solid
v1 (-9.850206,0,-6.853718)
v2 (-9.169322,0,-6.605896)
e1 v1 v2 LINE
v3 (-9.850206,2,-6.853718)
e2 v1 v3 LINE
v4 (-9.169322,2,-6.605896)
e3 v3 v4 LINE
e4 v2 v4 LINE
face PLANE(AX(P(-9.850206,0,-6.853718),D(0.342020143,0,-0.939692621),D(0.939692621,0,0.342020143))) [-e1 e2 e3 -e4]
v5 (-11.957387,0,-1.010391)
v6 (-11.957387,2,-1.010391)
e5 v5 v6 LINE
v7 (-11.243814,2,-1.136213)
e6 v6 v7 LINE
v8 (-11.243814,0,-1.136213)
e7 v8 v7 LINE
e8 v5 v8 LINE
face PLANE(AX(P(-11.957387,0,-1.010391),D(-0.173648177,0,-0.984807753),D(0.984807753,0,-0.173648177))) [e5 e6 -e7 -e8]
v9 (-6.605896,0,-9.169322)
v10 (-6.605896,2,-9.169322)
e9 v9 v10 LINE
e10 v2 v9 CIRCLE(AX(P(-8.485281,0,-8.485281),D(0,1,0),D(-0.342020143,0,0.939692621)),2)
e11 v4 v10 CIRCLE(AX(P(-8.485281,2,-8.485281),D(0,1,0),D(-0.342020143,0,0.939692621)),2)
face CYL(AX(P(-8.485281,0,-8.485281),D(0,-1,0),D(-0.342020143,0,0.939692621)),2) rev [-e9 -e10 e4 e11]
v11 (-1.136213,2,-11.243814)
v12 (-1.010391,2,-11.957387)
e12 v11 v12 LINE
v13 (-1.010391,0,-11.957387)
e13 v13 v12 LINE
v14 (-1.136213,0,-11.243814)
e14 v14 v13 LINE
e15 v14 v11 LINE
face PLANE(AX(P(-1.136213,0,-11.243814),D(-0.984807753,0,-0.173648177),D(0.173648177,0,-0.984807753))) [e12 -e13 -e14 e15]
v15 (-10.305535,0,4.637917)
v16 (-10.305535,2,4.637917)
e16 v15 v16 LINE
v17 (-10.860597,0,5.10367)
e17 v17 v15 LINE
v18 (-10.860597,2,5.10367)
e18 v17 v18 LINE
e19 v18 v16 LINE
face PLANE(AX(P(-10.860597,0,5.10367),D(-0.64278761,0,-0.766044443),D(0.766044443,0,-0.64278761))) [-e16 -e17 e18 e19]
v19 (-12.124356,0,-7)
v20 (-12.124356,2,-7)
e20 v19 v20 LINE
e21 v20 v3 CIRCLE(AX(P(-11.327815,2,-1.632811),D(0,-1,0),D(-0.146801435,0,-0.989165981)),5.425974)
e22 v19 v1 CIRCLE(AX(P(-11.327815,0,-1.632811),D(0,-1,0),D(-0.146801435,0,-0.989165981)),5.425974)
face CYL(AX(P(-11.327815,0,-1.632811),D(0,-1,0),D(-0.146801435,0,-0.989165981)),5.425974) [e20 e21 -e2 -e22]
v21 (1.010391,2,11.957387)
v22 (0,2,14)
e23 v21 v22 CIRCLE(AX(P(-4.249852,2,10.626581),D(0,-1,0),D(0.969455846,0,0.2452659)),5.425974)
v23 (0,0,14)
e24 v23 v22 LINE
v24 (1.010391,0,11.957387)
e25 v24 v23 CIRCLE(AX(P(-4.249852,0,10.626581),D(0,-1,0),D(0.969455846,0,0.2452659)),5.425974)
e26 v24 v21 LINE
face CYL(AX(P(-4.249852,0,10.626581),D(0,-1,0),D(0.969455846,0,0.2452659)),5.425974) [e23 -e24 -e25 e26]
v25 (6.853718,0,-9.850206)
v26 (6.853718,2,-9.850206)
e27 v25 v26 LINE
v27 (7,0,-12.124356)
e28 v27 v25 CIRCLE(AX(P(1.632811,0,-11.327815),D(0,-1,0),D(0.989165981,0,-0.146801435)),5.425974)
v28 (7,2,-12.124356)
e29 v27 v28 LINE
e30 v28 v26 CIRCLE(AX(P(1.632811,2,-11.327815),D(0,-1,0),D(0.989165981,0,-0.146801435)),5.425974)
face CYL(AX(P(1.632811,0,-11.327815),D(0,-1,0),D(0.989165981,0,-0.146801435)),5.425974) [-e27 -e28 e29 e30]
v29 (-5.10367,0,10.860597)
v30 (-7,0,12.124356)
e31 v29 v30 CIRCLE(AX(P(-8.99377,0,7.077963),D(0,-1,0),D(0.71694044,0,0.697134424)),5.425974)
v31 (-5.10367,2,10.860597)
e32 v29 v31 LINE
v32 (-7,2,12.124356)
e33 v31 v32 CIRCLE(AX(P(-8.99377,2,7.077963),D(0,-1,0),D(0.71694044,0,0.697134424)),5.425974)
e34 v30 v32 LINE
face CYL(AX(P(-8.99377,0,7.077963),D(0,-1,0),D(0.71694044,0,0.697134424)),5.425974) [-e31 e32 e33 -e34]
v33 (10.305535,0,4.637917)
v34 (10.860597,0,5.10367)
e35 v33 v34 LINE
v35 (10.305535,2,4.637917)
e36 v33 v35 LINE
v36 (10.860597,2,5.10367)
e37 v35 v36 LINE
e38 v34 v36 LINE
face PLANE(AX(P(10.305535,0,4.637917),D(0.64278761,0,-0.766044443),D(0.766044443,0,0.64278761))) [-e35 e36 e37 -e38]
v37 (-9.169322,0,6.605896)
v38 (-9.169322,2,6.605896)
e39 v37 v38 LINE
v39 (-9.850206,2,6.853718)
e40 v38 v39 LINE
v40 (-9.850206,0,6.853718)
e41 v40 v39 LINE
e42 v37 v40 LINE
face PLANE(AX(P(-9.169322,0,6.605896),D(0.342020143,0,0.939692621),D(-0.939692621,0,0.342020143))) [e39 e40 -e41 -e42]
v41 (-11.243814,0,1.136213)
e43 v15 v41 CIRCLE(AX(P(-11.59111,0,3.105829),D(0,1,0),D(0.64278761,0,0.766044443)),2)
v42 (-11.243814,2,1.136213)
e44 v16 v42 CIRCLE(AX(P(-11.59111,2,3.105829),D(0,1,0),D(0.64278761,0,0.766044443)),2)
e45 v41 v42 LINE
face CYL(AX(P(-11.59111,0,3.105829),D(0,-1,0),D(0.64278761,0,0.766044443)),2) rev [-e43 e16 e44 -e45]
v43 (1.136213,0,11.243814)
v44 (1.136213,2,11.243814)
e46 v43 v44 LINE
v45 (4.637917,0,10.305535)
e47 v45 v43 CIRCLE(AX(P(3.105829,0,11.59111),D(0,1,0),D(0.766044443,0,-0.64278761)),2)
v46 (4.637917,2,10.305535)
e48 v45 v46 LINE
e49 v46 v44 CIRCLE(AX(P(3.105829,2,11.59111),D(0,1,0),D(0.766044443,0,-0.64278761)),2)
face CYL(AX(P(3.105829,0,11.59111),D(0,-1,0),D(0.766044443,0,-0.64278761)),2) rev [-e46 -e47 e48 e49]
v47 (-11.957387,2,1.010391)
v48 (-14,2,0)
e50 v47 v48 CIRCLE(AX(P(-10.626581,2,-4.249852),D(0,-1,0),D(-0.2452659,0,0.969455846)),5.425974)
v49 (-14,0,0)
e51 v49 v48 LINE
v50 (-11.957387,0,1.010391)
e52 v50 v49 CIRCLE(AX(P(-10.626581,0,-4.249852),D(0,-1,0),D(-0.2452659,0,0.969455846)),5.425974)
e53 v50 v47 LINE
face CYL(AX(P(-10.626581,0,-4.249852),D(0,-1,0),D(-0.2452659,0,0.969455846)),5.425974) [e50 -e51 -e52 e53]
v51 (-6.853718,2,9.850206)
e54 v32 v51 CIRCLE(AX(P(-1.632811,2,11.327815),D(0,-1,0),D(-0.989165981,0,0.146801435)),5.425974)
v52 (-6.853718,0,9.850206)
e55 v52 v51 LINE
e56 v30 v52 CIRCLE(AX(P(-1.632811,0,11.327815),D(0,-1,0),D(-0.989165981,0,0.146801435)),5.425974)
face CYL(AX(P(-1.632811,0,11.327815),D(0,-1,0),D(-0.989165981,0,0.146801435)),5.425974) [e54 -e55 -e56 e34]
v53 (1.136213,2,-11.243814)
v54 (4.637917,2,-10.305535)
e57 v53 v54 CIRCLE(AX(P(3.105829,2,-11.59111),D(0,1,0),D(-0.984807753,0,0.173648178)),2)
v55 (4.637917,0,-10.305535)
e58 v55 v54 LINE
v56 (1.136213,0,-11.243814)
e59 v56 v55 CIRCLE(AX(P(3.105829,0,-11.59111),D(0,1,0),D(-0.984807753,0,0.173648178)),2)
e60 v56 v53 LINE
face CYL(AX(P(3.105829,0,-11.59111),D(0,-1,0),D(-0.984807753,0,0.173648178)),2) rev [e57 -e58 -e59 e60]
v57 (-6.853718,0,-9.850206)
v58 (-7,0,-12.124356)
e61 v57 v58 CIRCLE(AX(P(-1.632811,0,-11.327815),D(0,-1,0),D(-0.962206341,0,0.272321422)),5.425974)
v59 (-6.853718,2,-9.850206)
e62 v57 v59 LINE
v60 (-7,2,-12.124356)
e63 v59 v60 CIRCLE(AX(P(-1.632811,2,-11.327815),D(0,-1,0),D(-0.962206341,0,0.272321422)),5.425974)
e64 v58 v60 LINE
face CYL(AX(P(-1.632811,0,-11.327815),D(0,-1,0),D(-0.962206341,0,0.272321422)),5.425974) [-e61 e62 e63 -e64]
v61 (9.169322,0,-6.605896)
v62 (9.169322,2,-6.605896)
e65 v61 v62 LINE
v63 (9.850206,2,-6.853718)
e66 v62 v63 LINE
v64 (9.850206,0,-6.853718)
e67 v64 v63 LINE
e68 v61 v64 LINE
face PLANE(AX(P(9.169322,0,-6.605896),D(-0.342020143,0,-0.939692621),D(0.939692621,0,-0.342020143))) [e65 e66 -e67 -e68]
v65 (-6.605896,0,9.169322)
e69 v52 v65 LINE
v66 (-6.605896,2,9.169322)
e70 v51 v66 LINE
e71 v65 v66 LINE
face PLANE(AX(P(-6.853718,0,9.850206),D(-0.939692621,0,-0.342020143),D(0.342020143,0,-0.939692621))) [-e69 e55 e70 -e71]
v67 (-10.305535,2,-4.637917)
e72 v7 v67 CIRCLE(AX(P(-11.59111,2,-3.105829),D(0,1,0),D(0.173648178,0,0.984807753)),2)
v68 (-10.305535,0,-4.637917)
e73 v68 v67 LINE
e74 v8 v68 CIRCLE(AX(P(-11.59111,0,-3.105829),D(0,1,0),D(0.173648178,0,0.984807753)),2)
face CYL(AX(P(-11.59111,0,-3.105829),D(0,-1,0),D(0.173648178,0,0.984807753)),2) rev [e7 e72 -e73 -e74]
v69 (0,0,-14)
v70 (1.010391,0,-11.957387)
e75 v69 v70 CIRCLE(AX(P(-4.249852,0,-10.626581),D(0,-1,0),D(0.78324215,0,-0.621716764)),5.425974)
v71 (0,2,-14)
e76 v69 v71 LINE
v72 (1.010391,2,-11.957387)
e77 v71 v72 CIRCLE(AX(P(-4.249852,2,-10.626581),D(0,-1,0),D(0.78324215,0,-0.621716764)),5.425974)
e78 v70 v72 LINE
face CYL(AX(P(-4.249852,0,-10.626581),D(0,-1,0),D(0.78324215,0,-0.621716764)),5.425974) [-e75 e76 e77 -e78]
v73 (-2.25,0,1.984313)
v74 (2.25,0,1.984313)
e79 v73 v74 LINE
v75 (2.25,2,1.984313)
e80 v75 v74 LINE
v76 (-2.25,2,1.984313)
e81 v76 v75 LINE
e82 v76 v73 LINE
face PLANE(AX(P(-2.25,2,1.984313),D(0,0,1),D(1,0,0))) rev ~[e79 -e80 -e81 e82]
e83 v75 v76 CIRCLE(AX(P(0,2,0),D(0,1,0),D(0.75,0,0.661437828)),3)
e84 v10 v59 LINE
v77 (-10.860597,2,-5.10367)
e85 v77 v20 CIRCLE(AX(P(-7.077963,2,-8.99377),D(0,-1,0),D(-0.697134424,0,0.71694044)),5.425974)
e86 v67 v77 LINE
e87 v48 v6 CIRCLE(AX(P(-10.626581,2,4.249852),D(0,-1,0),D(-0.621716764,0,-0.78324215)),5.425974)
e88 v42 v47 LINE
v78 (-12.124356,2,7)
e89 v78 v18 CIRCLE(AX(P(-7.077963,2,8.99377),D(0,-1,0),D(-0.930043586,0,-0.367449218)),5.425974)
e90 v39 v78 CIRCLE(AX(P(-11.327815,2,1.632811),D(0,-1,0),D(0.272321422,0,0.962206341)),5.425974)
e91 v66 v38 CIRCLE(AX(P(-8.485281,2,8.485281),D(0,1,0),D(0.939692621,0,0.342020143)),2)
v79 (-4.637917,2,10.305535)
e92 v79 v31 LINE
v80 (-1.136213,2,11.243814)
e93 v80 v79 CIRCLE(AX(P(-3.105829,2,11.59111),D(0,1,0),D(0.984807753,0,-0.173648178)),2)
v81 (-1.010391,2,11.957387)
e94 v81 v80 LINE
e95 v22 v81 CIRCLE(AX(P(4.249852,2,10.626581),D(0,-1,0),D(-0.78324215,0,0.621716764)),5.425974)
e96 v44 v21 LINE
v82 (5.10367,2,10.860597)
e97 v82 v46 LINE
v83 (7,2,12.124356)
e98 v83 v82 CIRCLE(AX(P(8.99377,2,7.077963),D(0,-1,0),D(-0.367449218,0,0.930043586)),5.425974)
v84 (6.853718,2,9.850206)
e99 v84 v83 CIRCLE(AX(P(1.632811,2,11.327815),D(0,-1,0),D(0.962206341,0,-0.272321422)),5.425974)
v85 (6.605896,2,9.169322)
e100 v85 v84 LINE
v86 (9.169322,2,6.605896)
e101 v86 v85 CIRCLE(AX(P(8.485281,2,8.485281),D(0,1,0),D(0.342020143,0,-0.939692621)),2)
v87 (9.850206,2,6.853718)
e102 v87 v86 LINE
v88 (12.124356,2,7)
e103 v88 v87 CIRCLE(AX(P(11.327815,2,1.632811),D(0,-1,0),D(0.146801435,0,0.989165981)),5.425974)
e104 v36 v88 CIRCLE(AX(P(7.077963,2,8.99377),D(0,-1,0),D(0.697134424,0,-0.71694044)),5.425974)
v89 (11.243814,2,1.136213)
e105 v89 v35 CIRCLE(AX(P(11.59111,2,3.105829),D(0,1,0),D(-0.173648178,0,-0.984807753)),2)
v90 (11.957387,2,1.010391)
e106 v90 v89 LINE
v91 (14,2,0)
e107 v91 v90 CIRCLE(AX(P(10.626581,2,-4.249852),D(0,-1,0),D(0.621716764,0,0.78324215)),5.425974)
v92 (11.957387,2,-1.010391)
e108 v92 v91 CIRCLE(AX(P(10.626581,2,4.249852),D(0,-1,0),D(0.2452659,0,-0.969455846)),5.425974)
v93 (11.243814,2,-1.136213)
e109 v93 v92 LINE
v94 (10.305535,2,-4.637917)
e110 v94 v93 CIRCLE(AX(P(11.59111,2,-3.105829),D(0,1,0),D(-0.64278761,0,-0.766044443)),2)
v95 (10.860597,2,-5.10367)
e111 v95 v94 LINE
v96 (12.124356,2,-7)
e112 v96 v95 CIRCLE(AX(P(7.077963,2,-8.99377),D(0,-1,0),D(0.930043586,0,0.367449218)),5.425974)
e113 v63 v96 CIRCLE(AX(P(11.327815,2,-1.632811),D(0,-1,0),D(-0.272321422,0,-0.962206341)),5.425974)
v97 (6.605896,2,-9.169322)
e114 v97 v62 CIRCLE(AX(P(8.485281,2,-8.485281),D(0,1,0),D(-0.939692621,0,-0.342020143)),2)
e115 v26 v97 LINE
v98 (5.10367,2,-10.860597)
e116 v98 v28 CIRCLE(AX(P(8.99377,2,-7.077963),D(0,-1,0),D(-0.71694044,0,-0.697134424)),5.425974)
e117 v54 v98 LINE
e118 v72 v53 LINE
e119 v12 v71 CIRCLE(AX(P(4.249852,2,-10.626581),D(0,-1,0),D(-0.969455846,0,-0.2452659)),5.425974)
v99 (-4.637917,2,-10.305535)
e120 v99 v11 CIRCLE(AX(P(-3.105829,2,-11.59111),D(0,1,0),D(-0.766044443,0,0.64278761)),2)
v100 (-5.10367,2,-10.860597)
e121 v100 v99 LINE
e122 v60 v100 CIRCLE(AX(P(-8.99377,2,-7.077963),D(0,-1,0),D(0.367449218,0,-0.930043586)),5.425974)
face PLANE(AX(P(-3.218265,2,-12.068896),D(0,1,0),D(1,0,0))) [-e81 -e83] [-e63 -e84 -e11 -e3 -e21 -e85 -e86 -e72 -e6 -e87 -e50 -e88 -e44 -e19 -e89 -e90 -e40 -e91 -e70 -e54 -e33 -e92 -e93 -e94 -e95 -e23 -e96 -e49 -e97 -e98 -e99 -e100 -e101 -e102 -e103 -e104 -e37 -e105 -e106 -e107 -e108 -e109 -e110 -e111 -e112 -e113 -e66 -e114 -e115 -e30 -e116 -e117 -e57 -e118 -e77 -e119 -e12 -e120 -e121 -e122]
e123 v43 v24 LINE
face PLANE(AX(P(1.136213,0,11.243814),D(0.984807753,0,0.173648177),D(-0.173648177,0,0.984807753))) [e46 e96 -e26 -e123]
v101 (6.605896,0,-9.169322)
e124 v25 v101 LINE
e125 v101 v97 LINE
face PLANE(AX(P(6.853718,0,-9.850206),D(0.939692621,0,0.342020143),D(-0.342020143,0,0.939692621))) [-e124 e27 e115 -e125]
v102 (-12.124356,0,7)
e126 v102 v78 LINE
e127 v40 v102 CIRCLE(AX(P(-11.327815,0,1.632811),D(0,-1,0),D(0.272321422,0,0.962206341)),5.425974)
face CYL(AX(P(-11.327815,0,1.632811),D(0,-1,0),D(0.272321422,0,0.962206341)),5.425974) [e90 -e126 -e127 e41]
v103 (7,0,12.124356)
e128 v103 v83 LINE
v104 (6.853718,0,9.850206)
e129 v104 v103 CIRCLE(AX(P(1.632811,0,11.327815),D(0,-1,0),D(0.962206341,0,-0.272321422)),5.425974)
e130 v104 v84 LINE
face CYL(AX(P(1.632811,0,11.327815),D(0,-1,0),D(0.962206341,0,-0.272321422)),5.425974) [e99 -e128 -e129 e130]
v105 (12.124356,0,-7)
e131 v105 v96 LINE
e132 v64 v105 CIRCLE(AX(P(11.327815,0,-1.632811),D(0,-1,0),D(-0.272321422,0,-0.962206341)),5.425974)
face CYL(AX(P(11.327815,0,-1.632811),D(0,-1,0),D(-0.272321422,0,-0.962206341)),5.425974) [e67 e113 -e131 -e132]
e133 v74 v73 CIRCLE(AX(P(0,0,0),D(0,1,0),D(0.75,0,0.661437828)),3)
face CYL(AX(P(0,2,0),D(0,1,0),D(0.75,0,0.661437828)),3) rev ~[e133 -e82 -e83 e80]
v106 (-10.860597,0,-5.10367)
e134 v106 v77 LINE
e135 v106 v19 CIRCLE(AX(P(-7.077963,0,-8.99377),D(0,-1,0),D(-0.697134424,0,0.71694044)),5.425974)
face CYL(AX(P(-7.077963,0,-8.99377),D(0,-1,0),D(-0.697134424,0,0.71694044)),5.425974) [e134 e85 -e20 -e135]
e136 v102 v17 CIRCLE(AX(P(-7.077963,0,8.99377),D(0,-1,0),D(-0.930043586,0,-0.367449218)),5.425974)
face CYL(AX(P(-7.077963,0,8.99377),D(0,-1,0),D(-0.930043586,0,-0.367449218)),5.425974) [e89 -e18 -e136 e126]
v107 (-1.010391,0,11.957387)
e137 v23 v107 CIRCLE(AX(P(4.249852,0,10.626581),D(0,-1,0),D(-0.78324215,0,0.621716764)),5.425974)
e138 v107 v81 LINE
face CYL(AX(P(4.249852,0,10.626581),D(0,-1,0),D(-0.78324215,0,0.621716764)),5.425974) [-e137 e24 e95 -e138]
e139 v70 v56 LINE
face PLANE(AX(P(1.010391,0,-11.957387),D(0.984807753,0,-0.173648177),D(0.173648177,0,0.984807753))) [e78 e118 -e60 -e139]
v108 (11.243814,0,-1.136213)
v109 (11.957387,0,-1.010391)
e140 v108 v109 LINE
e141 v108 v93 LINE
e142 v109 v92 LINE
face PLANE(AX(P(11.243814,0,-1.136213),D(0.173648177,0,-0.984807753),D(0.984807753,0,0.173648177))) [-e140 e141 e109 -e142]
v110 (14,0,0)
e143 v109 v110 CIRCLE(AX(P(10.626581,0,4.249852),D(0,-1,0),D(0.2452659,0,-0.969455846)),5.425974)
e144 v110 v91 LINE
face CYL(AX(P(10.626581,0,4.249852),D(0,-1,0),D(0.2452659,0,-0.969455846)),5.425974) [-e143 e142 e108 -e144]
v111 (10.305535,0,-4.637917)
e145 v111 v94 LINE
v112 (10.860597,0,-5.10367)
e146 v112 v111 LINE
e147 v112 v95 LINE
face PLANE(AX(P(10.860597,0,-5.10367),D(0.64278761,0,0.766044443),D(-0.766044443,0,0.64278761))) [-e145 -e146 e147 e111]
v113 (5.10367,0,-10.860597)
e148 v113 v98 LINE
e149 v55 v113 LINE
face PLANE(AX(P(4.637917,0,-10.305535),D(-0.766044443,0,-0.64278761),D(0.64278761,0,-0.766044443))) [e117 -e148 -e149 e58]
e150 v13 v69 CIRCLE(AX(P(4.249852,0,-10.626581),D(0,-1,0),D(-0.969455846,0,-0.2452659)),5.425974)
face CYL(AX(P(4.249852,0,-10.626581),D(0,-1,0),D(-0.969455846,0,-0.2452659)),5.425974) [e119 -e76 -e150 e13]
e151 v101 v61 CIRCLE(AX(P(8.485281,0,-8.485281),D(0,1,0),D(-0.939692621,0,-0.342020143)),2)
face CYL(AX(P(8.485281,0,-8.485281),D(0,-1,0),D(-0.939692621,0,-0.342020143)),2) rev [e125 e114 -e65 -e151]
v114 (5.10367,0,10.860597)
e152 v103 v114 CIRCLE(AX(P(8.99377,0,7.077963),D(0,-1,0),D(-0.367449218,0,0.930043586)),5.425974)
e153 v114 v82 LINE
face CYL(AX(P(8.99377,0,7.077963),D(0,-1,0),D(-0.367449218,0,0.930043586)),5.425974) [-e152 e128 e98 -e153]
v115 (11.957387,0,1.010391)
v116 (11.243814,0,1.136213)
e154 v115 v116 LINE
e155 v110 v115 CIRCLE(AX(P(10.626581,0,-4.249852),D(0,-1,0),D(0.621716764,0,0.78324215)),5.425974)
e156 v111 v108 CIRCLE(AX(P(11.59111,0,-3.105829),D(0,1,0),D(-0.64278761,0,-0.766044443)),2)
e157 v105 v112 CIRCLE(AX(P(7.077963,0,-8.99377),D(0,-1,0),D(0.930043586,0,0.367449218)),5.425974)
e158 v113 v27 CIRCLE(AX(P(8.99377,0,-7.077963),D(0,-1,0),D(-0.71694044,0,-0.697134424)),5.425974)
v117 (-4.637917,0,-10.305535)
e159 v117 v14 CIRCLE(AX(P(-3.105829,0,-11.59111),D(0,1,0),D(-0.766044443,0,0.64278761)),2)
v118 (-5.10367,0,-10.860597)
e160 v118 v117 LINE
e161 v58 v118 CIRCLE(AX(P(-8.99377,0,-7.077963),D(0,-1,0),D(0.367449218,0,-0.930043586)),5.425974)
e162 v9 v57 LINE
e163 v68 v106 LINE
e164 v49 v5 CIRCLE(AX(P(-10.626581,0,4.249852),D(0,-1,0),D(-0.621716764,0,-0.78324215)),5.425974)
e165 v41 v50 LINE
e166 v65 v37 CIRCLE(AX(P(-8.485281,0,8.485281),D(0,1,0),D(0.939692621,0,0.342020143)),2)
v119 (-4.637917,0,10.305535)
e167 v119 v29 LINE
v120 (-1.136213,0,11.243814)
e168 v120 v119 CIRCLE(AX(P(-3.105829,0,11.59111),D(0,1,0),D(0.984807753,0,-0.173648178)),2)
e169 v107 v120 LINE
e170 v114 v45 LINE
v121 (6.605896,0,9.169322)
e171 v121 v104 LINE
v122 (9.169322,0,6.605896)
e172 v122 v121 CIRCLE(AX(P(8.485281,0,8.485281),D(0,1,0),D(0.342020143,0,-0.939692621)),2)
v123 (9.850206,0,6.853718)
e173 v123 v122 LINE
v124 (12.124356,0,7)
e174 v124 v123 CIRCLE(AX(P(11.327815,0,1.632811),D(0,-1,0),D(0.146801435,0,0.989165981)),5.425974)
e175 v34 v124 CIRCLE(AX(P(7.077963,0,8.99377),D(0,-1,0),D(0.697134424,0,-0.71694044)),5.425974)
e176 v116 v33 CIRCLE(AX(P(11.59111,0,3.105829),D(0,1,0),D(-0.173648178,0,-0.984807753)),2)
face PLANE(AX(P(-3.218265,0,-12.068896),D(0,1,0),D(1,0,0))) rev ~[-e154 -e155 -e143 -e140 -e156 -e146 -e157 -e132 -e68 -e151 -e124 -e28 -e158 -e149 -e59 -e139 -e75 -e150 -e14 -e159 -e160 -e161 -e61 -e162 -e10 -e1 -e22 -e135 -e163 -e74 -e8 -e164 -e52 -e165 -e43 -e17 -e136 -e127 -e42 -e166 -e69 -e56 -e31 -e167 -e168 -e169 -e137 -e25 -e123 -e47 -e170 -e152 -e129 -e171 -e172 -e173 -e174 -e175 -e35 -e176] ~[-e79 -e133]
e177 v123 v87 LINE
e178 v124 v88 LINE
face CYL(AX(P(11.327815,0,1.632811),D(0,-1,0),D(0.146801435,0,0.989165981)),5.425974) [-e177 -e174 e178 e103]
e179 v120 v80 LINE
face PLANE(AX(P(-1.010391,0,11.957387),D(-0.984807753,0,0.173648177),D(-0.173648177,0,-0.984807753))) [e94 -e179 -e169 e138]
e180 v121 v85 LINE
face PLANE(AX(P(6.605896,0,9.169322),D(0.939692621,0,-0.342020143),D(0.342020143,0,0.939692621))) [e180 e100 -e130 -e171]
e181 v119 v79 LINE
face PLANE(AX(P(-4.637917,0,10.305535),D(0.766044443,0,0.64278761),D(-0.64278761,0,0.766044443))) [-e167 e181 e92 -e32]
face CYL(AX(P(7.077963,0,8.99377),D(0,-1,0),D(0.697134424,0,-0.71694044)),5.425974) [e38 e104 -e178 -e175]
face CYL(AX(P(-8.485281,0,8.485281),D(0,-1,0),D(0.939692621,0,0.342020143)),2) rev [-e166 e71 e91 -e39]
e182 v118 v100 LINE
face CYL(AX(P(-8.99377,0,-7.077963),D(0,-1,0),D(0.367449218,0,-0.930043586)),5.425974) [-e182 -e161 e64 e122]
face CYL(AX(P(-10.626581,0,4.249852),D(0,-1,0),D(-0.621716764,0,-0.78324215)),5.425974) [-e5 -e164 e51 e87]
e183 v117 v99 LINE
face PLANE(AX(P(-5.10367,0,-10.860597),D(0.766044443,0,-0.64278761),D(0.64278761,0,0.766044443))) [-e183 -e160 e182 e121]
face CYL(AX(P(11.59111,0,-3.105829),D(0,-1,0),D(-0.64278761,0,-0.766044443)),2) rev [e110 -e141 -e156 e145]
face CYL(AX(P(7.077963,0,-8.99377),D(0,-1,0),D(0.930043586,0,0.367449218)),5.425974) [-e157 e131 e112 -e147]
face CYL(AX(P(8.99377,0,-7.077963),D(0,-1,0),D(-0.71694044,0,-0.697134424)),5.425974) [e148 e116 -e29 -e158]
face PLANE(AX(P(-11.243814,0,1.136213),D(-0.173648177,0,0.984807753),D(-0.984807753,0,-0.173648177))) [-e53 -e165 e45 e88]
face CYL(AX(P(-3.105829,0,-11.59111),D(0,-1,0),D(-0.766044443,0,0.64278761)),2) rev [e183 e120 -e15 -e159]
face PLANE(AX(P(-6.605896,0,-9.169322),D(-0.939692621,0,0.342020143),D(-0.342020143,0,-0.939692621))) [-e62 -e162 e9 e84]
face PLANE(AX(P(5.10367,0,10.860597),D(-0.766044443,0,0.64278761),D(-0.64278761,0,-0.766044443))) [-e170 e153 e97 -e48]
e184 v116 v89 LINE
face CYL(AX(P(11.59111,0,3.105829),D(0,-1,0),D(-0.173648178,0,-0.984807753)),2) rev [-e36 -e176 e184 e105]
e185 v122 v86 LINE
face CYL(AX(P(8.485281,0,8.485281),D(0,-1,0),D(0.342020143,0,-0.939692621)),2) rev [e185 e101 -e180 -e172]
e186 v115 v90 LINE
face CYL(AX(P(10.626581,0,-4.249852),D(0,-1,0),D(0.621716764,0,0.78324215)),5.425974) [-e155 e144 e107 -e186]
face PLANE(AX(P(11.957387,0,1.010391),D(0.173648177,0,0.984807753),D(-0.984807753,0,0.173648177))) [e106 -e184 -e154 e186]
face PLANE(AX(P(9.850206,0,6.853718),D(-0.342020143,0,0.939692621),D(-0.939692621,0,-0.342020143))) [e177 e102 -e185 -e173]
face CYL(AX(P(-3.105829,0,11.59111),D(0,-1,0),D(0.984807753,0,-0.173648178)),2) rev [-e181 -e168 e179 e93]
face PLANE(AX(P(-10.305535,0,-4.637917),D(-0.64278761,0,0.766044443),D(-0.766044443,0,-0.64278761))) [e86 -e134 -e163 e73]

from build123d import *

# Parameters (mm, degrees)
SKETCH1_R           = 10
BOSS_EXTRUDE3_DEPTH = 2
CUT_EXTRUDE4_START  = -2
CUT_EXTRUDE4_DEPTH  = 2
CUT_EXTRUDE5_DEPTH  = 2
CUT_EXTRUDE7_START  = -2
CUT_EXTRUDE7_DEPTH  = 2


with BuildPart() as part:
    # Sketch1 → Boss-Extrude3 (new body)
    # profile 1 of 3: a face of its own
    with BuildSketch(Plane(origin=(0, 0, 0), x_dir=(1, 0, 0), z_dir=(0, 1, 0))):
        with BuildLine():
            ThreePointArc((-2.576546391, 9.66237076), (-3.696714803, 9.688501423), (-4.6270391, 10.312966622))
            Line((-4.6270391, 10.312966622), (-5.089759275, 10.867122458))
            add(Edge.make_bspline(
                [(-5.089759275, 10.867122458), (-6.64901802, 12.325915574), (-6.970753087, 12.141194398)],
                knots=[0, 0, 0, 1, 1, 1], degree=2, weights=[1, 1.687053572, 1]))
            ThreePointArc((-6.970753087, 12.141194398), (-7.014608214, -12.115909855), (14, 0))
            ThreePointArc((14, 0), (9.899494937, 9.899494937), (0, 14))
            add(Edge.make_bspline(
                [(-0.996876474, 11.958521535), (-0.370992408, 14), (0, 14)],
                knots=[0, 0, 0, 1, 1, 1], degree=2, weights=[1, 1.687053572, 1]))
            Line((-0.996876474, 11.958521535), (-1.122240194, 11.247548548))
            ThreePointArc((-1.122240194, 11.247548548), (-1.618115564, 10.242776114), (-2.576546391, 9.66237076))
        make_face()
        with BuildLine():
            ThreePointArc((10, 0), (-6.092394278, -7.9298633), (-2.576546391, 9.66237076))
            ThreePointArc((-2.576546391, 9.66237076), (6.092394278, 7.9298633), (10, 0))
        make_face(mode=Mode.SUBTRACT)
    # profile 2 of 3: a face of its own
    with BuildSketch(Plane(origin=(0, 0, 0), x_dir=(1, 0, 0), z_dir=(0, 1, 0))):
        Circle(SKETCH1_R)
    # profile 3 of 3: a face of its own
    with BuildSketch(Plane(origin=(0, 0, 0), x_dir=(1, 0, 0), z_dir=(0, 1, 0))):
        with BuildLine():
            Line((-5.089759275, 10.867122458), (-4.6270391, 10.312966622))
            ThreePointArc((-4.6270391, 10.312966622), (-3.696714803, 9.688501423), (-2.576546391, 9.66237076))
            ThreePointArc((-2.576546391, 9.66237076), (-1.618115564, 10.242776114), (-1.122240194, 11.247548548))
            Line((-1.122240194, 11.247548548), (-0.996876474, 11.958521535))
            add(Edge.make_bspline(
                [(-0.996876474, 11.958521535), (-0.370992408, 14), (0, 14)],
                knots=[0, 0, 0, 1, 1, 1], degree=2, weights=[1, 1.687053572, 1]))
            ThreePointArc((0, 14), (-3.607164983, 13.527319054), (-6.970753087, 12.141194398))
            add(Edge.make_bspline(
                [(-5.089759275, 10.867122458), (-6.64901802, 12.325915574), (-6.970753087, 12.141194398)],
                knots=[0, 0, 0, 1, 1, 1], degree=2, weights=[1, 1.687053572, 1]))
        make_face()
    extrude(amount=BOSS_EXTRUDE3_DEPTH)

    # Sketch2 → Cut-Extrude4 (cut)
    with BuildSketch(Plane(origin=(0, 2, 0), x_dir=(1, 0, 0), z_dir=(0, 1, 0)).offset(CUT_EXTRUDE4_START)):
        with BuildLine():
            Line((-1.136213035, 11.24381356), (-1.010390736, 11.95738728))
            ThreePointArc((-1.010390736, 11.95738728), (-0.613638742, 13.032335811), (0, 14))
            ThreePointArc((0, 14), (-3.623466631, 13.522961568), (-7, 12.124355653))
            ThreePointArc((-7, 12.124355653), (-5.984741166, 11.593153253), (-5.103669595, 10.860596515))
            Line((-5.103669595, 10.860596515), (-4.637917427, 10.305534696))
            ThreePointArc((-4.637917427, 10.305534696), (-2.588190451, 9.659258263), (-1.136213035, 11.24381356))
        make_face()
    extrude(amount=CUT_EXTRUDE4_DEPTH, mode=Mode.SUBTRACT)

    # Sketch3 → Cut-Extrude5 (cut)
    with BuildSketch(Plane(origin=(0, 2, 0), x_dir=(1, 0, 0), z_dir=(0, 1, 0))):
        with BuildLine():
            Line((-2.25, -1.984313483), (2.25, -1.984313483))
            ThreePointArc((2.25, -1.984313483), (0, 3), (-2.25, -1.984313483))
        make_face()
    extrude(amount=-CUT_EXTRUDE5_DEPTH, mode=Mode.SUBTRACT)

    # Sketch2<5> → Cut-Extrude7 (cut)
    with BuildSketch(Plane(origin=(0, 2, 0), x_dir=(1, 0, 0), z_dir=(0, 1, 0)).offset(CUT_EXTRUDE7_START)):
        with BuildLine():
            ThreePointArc((7, 12.124355653), (3.623466631, 13.522961568), (0, 14))
            ThreePointArc((0, 14), (0.613638742, 13.032335811), (1.010390736, 11.95738728))
            Line((1.010390736, 11.95738728), (1.136213035, 11.24381356))
            ThreePointArc((1.136213035, 11.24381356), (2.588190451, 9.659258263), (4.637917427, 10.305534696))
            Line((4.637917427, 10.305534696), (5.103669595, 10.860596515))
            ThreePointArc((5.103669595, 10.860596515), (5.984741166, 11.593153253), (7, 12.124355653))
        make_face()
        with BuildLine():
            ThreePointArc((12.124355653, 7), (9.899494937, 9.899494937), (7, 12.124355653))
            ThreePointArc((7, 12.124355653), (7.047594644, 10.979514512), (6.853717685, 9.850205779))
            Line((6.853717685, 9.850205779), (6.605896133, 9.169321661))
            ThreePointArc((6.605896133, 9.169321661), (7.071067812, 7.071067812), (9.169321661, 6.605896133))
            Line((9.169321661, 6.605896133), (9.850205779, 6.853717685))
            ThreePointArc((9.850205779, 6.853717685), (10.979514512, 7.047594644), (12.124355653, 7))
        make_face()
        with BuildLine():
            ThreePointArc((14, 0), (13.522961568, 3.623466631), (12.124355653, 7))
            ThreePointArc((12.124355653, 7), (11.593153253, 5.984741166), (10.860596515, 5.103669595))
            Line((10.860596515, 5.103669595), (10.305534696, 4.637917427))
            ThreePointArc((10.305534696, 4.637917427), (9.659258263, 2.588190451), (11.24381356, 1.136213035))
            Line((11.24381356, 1.136213035), (11.95738728, 1.010390736))
            ThreePointArc((11.95738728, 1.010390736), (13.032335811, 0.613638742), (14, 0))
        make_face()
        with BuildLine():
            ThreePointArc((-6.853717685, 9.850205779), (-7.047594644, 10.979514512), (-7, 12.124355653))
            ThreePointArc((-7, 12.124355653), (-9.899494937, 9.899494937), (-12.124355653, 7))
            ThreePointArc((-12.124355653, 7), (-10.979514512, 7.047594644), (-9.850205779, 6.853717685))
            Line((-9.850205779, 6.853717685), (-9.169321661, 6.605896133))
            ThreePointArc((-9.169321661, 6.605896133), (-7.071067812, 7.071067812), (-6.605896133, 9.169321661))
            Line((-6.605896133, 9.169321661), (-6.853717685, 9.850205779))
        make_face()
        with BuildLine():
            ThreePointArc((12.124355653, -7), (13.522961568, -3.623466631), (14, 0))
            ThreePointArc((14, 0), (13.032335811, -0.613638742), (11.95738728, -1.010390736))
            Line((11.95738728, -1.010390736), (11.24381356, -1.136213035))
            ThreePointArc((11.24381356, -1.136213035), (9.659258263, -2.588190451), (10.305534696, -4.637917427))
            Line((10.305534696, -4.637917427), (10.860596515, -5.103669595))
            ThreePointArc((10.860596515, -5.103669595), (11.593153253, -5.984741166), (12.124355653, -7))
        make_face()
        with BuildLine():
            ThreePointArc((-10.860596515, 5.103669595), (-11.593153253, 5.984741166), (-12.124355653, 7))
            ThreePointArc((-12.124355653, 7), (-13.522961568, 3.623466631), (-14, 0))
            ThreePointArc((-14, 0), (-13.032335811, 0.613638742), (-11.95738728, 1.010390736))
            Line((-11.95738728, 1.010390736), (-11.24381356, 1.136213035))
            ThreePointArc((-11.24381356, 1.136213035), (-9.659258263, 2.588190451), (-10.305534696, 4.637917427))
            Line((-10.305534696, 4.637917427), (-10.860596515, 5.103669595))
        make_face()
        with BuildLine():
            ThreePointArc((7, -12.124355653), (9.899494937, -9.899494937), (12.124355653, -7))
            ThreePointArc((12.124355653, -7), (10.979514512, -7.047594644), (9.850205779, -6.853717685))
            Line((9.850205779, -6.853717685), (9.169321661, -6.605896133))
            ThreePointArc((9.169321661, -6.605896133), (7.071067812, -7.071067812), (6.605896133, -9.169321661))
            Line((6.605896133, -9.169321661), (6.853717685, -9.850205779))
            ThreePointArc((6.853717685, -9.850205779), (7.047594644, -10.979514512), (7, -12.124355653))
        make_face()
        with BuildLine():
            ThreePointArc((-11.95738728, -1.010390736), (-13.032335811, -0.613638742), (-14, 0))
            ThreePointArc((-14, 0), (-13.522961568, -3.623466631), (-12.124355653, -7))
            ThreePointArc((-12.124355653, -7), (-11.593153253, -5.984741166), (-10.860596515, -5.103669595))
            Line((-10.860596515, -5.103669595), (-10.305534696, -4.637917427))
            ThreePointArc((-10.305534696, -4.637917427), (-9.659258263, -2.588190451), (-11.24381356, -1.136213035))
            Line((-11.24381356, -1.136213035), (-11.95738728, -1.010390736))
        make_face()
        with BuildLine():
            ThreePointArc((0, -14), (3.623466631, -13.522961568), (7, -12.124355653))
            ThreePointArc((7, -12.124355653), (5.984741166, -11.593153253), (5.103669595, -10.860596515))
            Line((5.103669595, -10.860596515), (4.637917427, -10.305534696))
            ThreePointArc((4.637917427, -10.305534696), (2.588190451, -9.659258263), (1.136213035, -11.24381356))
            Line((1.136213035, -11.24381356), (1.010390736, -11.95738728))
            ThreePointArc((1.010390736, -11.95738728), (0.613638742, -13.032335811), (0, -14))
        make_face()
        with BuildLine():
            ThreePointArc((-9.850205779, -6.853717685), (-10.979514512, -7.047594644), (-12.124355653, -7))
            ThreePointArc((-12.124355653, -7), (-9.899494937, -9.899494937), (-7, -12.124355653))
            ThreePointArc((-7, -12.124355653), (-7.047594644, -10.979514512), (-6.853717685, -9.850205779))
            Line((-6.853717685, -9.850205779), (-6.605896133, -9.169321661))
            ThreePointArc((-6.605896133, -9.169321661), (-7.071067812, -7.071067812), (-9.169321661, -6.605896133))
            Line((-9.169321661, -6.605896133), (-9.850205779, -6.853717685))
        make_face()
        with BuildLine():
            ThreePointArc((-7, -12.124355653), (-3.623466631, -13.522961568), (0, -14))
            ThreePointArc((0, -14), (-0.613638742, -13.032335811), (-1.010390736, -11.95738728))
            Line((-1.010390736, -11.95738728), (-1.136213035, -11.24381356))
            ThreePointArc((-1.136213035, -11.24381356), (-2.588190451, -9.659258263), (-4.637917427, -10.305534696))
            Line((-4.637917427, -10.305534696), (-5.103669595, -10.860596515))
            ThreePointArc((-5.103669595, -10.860596515), (-5.984741166, -11.593153253), (-7, -12.124355653))
        make_face()
    extrude(amount=CUT_EXTRUDE7_DEPTH, mode=Mode.SUBTRACT)


solid = part.part
